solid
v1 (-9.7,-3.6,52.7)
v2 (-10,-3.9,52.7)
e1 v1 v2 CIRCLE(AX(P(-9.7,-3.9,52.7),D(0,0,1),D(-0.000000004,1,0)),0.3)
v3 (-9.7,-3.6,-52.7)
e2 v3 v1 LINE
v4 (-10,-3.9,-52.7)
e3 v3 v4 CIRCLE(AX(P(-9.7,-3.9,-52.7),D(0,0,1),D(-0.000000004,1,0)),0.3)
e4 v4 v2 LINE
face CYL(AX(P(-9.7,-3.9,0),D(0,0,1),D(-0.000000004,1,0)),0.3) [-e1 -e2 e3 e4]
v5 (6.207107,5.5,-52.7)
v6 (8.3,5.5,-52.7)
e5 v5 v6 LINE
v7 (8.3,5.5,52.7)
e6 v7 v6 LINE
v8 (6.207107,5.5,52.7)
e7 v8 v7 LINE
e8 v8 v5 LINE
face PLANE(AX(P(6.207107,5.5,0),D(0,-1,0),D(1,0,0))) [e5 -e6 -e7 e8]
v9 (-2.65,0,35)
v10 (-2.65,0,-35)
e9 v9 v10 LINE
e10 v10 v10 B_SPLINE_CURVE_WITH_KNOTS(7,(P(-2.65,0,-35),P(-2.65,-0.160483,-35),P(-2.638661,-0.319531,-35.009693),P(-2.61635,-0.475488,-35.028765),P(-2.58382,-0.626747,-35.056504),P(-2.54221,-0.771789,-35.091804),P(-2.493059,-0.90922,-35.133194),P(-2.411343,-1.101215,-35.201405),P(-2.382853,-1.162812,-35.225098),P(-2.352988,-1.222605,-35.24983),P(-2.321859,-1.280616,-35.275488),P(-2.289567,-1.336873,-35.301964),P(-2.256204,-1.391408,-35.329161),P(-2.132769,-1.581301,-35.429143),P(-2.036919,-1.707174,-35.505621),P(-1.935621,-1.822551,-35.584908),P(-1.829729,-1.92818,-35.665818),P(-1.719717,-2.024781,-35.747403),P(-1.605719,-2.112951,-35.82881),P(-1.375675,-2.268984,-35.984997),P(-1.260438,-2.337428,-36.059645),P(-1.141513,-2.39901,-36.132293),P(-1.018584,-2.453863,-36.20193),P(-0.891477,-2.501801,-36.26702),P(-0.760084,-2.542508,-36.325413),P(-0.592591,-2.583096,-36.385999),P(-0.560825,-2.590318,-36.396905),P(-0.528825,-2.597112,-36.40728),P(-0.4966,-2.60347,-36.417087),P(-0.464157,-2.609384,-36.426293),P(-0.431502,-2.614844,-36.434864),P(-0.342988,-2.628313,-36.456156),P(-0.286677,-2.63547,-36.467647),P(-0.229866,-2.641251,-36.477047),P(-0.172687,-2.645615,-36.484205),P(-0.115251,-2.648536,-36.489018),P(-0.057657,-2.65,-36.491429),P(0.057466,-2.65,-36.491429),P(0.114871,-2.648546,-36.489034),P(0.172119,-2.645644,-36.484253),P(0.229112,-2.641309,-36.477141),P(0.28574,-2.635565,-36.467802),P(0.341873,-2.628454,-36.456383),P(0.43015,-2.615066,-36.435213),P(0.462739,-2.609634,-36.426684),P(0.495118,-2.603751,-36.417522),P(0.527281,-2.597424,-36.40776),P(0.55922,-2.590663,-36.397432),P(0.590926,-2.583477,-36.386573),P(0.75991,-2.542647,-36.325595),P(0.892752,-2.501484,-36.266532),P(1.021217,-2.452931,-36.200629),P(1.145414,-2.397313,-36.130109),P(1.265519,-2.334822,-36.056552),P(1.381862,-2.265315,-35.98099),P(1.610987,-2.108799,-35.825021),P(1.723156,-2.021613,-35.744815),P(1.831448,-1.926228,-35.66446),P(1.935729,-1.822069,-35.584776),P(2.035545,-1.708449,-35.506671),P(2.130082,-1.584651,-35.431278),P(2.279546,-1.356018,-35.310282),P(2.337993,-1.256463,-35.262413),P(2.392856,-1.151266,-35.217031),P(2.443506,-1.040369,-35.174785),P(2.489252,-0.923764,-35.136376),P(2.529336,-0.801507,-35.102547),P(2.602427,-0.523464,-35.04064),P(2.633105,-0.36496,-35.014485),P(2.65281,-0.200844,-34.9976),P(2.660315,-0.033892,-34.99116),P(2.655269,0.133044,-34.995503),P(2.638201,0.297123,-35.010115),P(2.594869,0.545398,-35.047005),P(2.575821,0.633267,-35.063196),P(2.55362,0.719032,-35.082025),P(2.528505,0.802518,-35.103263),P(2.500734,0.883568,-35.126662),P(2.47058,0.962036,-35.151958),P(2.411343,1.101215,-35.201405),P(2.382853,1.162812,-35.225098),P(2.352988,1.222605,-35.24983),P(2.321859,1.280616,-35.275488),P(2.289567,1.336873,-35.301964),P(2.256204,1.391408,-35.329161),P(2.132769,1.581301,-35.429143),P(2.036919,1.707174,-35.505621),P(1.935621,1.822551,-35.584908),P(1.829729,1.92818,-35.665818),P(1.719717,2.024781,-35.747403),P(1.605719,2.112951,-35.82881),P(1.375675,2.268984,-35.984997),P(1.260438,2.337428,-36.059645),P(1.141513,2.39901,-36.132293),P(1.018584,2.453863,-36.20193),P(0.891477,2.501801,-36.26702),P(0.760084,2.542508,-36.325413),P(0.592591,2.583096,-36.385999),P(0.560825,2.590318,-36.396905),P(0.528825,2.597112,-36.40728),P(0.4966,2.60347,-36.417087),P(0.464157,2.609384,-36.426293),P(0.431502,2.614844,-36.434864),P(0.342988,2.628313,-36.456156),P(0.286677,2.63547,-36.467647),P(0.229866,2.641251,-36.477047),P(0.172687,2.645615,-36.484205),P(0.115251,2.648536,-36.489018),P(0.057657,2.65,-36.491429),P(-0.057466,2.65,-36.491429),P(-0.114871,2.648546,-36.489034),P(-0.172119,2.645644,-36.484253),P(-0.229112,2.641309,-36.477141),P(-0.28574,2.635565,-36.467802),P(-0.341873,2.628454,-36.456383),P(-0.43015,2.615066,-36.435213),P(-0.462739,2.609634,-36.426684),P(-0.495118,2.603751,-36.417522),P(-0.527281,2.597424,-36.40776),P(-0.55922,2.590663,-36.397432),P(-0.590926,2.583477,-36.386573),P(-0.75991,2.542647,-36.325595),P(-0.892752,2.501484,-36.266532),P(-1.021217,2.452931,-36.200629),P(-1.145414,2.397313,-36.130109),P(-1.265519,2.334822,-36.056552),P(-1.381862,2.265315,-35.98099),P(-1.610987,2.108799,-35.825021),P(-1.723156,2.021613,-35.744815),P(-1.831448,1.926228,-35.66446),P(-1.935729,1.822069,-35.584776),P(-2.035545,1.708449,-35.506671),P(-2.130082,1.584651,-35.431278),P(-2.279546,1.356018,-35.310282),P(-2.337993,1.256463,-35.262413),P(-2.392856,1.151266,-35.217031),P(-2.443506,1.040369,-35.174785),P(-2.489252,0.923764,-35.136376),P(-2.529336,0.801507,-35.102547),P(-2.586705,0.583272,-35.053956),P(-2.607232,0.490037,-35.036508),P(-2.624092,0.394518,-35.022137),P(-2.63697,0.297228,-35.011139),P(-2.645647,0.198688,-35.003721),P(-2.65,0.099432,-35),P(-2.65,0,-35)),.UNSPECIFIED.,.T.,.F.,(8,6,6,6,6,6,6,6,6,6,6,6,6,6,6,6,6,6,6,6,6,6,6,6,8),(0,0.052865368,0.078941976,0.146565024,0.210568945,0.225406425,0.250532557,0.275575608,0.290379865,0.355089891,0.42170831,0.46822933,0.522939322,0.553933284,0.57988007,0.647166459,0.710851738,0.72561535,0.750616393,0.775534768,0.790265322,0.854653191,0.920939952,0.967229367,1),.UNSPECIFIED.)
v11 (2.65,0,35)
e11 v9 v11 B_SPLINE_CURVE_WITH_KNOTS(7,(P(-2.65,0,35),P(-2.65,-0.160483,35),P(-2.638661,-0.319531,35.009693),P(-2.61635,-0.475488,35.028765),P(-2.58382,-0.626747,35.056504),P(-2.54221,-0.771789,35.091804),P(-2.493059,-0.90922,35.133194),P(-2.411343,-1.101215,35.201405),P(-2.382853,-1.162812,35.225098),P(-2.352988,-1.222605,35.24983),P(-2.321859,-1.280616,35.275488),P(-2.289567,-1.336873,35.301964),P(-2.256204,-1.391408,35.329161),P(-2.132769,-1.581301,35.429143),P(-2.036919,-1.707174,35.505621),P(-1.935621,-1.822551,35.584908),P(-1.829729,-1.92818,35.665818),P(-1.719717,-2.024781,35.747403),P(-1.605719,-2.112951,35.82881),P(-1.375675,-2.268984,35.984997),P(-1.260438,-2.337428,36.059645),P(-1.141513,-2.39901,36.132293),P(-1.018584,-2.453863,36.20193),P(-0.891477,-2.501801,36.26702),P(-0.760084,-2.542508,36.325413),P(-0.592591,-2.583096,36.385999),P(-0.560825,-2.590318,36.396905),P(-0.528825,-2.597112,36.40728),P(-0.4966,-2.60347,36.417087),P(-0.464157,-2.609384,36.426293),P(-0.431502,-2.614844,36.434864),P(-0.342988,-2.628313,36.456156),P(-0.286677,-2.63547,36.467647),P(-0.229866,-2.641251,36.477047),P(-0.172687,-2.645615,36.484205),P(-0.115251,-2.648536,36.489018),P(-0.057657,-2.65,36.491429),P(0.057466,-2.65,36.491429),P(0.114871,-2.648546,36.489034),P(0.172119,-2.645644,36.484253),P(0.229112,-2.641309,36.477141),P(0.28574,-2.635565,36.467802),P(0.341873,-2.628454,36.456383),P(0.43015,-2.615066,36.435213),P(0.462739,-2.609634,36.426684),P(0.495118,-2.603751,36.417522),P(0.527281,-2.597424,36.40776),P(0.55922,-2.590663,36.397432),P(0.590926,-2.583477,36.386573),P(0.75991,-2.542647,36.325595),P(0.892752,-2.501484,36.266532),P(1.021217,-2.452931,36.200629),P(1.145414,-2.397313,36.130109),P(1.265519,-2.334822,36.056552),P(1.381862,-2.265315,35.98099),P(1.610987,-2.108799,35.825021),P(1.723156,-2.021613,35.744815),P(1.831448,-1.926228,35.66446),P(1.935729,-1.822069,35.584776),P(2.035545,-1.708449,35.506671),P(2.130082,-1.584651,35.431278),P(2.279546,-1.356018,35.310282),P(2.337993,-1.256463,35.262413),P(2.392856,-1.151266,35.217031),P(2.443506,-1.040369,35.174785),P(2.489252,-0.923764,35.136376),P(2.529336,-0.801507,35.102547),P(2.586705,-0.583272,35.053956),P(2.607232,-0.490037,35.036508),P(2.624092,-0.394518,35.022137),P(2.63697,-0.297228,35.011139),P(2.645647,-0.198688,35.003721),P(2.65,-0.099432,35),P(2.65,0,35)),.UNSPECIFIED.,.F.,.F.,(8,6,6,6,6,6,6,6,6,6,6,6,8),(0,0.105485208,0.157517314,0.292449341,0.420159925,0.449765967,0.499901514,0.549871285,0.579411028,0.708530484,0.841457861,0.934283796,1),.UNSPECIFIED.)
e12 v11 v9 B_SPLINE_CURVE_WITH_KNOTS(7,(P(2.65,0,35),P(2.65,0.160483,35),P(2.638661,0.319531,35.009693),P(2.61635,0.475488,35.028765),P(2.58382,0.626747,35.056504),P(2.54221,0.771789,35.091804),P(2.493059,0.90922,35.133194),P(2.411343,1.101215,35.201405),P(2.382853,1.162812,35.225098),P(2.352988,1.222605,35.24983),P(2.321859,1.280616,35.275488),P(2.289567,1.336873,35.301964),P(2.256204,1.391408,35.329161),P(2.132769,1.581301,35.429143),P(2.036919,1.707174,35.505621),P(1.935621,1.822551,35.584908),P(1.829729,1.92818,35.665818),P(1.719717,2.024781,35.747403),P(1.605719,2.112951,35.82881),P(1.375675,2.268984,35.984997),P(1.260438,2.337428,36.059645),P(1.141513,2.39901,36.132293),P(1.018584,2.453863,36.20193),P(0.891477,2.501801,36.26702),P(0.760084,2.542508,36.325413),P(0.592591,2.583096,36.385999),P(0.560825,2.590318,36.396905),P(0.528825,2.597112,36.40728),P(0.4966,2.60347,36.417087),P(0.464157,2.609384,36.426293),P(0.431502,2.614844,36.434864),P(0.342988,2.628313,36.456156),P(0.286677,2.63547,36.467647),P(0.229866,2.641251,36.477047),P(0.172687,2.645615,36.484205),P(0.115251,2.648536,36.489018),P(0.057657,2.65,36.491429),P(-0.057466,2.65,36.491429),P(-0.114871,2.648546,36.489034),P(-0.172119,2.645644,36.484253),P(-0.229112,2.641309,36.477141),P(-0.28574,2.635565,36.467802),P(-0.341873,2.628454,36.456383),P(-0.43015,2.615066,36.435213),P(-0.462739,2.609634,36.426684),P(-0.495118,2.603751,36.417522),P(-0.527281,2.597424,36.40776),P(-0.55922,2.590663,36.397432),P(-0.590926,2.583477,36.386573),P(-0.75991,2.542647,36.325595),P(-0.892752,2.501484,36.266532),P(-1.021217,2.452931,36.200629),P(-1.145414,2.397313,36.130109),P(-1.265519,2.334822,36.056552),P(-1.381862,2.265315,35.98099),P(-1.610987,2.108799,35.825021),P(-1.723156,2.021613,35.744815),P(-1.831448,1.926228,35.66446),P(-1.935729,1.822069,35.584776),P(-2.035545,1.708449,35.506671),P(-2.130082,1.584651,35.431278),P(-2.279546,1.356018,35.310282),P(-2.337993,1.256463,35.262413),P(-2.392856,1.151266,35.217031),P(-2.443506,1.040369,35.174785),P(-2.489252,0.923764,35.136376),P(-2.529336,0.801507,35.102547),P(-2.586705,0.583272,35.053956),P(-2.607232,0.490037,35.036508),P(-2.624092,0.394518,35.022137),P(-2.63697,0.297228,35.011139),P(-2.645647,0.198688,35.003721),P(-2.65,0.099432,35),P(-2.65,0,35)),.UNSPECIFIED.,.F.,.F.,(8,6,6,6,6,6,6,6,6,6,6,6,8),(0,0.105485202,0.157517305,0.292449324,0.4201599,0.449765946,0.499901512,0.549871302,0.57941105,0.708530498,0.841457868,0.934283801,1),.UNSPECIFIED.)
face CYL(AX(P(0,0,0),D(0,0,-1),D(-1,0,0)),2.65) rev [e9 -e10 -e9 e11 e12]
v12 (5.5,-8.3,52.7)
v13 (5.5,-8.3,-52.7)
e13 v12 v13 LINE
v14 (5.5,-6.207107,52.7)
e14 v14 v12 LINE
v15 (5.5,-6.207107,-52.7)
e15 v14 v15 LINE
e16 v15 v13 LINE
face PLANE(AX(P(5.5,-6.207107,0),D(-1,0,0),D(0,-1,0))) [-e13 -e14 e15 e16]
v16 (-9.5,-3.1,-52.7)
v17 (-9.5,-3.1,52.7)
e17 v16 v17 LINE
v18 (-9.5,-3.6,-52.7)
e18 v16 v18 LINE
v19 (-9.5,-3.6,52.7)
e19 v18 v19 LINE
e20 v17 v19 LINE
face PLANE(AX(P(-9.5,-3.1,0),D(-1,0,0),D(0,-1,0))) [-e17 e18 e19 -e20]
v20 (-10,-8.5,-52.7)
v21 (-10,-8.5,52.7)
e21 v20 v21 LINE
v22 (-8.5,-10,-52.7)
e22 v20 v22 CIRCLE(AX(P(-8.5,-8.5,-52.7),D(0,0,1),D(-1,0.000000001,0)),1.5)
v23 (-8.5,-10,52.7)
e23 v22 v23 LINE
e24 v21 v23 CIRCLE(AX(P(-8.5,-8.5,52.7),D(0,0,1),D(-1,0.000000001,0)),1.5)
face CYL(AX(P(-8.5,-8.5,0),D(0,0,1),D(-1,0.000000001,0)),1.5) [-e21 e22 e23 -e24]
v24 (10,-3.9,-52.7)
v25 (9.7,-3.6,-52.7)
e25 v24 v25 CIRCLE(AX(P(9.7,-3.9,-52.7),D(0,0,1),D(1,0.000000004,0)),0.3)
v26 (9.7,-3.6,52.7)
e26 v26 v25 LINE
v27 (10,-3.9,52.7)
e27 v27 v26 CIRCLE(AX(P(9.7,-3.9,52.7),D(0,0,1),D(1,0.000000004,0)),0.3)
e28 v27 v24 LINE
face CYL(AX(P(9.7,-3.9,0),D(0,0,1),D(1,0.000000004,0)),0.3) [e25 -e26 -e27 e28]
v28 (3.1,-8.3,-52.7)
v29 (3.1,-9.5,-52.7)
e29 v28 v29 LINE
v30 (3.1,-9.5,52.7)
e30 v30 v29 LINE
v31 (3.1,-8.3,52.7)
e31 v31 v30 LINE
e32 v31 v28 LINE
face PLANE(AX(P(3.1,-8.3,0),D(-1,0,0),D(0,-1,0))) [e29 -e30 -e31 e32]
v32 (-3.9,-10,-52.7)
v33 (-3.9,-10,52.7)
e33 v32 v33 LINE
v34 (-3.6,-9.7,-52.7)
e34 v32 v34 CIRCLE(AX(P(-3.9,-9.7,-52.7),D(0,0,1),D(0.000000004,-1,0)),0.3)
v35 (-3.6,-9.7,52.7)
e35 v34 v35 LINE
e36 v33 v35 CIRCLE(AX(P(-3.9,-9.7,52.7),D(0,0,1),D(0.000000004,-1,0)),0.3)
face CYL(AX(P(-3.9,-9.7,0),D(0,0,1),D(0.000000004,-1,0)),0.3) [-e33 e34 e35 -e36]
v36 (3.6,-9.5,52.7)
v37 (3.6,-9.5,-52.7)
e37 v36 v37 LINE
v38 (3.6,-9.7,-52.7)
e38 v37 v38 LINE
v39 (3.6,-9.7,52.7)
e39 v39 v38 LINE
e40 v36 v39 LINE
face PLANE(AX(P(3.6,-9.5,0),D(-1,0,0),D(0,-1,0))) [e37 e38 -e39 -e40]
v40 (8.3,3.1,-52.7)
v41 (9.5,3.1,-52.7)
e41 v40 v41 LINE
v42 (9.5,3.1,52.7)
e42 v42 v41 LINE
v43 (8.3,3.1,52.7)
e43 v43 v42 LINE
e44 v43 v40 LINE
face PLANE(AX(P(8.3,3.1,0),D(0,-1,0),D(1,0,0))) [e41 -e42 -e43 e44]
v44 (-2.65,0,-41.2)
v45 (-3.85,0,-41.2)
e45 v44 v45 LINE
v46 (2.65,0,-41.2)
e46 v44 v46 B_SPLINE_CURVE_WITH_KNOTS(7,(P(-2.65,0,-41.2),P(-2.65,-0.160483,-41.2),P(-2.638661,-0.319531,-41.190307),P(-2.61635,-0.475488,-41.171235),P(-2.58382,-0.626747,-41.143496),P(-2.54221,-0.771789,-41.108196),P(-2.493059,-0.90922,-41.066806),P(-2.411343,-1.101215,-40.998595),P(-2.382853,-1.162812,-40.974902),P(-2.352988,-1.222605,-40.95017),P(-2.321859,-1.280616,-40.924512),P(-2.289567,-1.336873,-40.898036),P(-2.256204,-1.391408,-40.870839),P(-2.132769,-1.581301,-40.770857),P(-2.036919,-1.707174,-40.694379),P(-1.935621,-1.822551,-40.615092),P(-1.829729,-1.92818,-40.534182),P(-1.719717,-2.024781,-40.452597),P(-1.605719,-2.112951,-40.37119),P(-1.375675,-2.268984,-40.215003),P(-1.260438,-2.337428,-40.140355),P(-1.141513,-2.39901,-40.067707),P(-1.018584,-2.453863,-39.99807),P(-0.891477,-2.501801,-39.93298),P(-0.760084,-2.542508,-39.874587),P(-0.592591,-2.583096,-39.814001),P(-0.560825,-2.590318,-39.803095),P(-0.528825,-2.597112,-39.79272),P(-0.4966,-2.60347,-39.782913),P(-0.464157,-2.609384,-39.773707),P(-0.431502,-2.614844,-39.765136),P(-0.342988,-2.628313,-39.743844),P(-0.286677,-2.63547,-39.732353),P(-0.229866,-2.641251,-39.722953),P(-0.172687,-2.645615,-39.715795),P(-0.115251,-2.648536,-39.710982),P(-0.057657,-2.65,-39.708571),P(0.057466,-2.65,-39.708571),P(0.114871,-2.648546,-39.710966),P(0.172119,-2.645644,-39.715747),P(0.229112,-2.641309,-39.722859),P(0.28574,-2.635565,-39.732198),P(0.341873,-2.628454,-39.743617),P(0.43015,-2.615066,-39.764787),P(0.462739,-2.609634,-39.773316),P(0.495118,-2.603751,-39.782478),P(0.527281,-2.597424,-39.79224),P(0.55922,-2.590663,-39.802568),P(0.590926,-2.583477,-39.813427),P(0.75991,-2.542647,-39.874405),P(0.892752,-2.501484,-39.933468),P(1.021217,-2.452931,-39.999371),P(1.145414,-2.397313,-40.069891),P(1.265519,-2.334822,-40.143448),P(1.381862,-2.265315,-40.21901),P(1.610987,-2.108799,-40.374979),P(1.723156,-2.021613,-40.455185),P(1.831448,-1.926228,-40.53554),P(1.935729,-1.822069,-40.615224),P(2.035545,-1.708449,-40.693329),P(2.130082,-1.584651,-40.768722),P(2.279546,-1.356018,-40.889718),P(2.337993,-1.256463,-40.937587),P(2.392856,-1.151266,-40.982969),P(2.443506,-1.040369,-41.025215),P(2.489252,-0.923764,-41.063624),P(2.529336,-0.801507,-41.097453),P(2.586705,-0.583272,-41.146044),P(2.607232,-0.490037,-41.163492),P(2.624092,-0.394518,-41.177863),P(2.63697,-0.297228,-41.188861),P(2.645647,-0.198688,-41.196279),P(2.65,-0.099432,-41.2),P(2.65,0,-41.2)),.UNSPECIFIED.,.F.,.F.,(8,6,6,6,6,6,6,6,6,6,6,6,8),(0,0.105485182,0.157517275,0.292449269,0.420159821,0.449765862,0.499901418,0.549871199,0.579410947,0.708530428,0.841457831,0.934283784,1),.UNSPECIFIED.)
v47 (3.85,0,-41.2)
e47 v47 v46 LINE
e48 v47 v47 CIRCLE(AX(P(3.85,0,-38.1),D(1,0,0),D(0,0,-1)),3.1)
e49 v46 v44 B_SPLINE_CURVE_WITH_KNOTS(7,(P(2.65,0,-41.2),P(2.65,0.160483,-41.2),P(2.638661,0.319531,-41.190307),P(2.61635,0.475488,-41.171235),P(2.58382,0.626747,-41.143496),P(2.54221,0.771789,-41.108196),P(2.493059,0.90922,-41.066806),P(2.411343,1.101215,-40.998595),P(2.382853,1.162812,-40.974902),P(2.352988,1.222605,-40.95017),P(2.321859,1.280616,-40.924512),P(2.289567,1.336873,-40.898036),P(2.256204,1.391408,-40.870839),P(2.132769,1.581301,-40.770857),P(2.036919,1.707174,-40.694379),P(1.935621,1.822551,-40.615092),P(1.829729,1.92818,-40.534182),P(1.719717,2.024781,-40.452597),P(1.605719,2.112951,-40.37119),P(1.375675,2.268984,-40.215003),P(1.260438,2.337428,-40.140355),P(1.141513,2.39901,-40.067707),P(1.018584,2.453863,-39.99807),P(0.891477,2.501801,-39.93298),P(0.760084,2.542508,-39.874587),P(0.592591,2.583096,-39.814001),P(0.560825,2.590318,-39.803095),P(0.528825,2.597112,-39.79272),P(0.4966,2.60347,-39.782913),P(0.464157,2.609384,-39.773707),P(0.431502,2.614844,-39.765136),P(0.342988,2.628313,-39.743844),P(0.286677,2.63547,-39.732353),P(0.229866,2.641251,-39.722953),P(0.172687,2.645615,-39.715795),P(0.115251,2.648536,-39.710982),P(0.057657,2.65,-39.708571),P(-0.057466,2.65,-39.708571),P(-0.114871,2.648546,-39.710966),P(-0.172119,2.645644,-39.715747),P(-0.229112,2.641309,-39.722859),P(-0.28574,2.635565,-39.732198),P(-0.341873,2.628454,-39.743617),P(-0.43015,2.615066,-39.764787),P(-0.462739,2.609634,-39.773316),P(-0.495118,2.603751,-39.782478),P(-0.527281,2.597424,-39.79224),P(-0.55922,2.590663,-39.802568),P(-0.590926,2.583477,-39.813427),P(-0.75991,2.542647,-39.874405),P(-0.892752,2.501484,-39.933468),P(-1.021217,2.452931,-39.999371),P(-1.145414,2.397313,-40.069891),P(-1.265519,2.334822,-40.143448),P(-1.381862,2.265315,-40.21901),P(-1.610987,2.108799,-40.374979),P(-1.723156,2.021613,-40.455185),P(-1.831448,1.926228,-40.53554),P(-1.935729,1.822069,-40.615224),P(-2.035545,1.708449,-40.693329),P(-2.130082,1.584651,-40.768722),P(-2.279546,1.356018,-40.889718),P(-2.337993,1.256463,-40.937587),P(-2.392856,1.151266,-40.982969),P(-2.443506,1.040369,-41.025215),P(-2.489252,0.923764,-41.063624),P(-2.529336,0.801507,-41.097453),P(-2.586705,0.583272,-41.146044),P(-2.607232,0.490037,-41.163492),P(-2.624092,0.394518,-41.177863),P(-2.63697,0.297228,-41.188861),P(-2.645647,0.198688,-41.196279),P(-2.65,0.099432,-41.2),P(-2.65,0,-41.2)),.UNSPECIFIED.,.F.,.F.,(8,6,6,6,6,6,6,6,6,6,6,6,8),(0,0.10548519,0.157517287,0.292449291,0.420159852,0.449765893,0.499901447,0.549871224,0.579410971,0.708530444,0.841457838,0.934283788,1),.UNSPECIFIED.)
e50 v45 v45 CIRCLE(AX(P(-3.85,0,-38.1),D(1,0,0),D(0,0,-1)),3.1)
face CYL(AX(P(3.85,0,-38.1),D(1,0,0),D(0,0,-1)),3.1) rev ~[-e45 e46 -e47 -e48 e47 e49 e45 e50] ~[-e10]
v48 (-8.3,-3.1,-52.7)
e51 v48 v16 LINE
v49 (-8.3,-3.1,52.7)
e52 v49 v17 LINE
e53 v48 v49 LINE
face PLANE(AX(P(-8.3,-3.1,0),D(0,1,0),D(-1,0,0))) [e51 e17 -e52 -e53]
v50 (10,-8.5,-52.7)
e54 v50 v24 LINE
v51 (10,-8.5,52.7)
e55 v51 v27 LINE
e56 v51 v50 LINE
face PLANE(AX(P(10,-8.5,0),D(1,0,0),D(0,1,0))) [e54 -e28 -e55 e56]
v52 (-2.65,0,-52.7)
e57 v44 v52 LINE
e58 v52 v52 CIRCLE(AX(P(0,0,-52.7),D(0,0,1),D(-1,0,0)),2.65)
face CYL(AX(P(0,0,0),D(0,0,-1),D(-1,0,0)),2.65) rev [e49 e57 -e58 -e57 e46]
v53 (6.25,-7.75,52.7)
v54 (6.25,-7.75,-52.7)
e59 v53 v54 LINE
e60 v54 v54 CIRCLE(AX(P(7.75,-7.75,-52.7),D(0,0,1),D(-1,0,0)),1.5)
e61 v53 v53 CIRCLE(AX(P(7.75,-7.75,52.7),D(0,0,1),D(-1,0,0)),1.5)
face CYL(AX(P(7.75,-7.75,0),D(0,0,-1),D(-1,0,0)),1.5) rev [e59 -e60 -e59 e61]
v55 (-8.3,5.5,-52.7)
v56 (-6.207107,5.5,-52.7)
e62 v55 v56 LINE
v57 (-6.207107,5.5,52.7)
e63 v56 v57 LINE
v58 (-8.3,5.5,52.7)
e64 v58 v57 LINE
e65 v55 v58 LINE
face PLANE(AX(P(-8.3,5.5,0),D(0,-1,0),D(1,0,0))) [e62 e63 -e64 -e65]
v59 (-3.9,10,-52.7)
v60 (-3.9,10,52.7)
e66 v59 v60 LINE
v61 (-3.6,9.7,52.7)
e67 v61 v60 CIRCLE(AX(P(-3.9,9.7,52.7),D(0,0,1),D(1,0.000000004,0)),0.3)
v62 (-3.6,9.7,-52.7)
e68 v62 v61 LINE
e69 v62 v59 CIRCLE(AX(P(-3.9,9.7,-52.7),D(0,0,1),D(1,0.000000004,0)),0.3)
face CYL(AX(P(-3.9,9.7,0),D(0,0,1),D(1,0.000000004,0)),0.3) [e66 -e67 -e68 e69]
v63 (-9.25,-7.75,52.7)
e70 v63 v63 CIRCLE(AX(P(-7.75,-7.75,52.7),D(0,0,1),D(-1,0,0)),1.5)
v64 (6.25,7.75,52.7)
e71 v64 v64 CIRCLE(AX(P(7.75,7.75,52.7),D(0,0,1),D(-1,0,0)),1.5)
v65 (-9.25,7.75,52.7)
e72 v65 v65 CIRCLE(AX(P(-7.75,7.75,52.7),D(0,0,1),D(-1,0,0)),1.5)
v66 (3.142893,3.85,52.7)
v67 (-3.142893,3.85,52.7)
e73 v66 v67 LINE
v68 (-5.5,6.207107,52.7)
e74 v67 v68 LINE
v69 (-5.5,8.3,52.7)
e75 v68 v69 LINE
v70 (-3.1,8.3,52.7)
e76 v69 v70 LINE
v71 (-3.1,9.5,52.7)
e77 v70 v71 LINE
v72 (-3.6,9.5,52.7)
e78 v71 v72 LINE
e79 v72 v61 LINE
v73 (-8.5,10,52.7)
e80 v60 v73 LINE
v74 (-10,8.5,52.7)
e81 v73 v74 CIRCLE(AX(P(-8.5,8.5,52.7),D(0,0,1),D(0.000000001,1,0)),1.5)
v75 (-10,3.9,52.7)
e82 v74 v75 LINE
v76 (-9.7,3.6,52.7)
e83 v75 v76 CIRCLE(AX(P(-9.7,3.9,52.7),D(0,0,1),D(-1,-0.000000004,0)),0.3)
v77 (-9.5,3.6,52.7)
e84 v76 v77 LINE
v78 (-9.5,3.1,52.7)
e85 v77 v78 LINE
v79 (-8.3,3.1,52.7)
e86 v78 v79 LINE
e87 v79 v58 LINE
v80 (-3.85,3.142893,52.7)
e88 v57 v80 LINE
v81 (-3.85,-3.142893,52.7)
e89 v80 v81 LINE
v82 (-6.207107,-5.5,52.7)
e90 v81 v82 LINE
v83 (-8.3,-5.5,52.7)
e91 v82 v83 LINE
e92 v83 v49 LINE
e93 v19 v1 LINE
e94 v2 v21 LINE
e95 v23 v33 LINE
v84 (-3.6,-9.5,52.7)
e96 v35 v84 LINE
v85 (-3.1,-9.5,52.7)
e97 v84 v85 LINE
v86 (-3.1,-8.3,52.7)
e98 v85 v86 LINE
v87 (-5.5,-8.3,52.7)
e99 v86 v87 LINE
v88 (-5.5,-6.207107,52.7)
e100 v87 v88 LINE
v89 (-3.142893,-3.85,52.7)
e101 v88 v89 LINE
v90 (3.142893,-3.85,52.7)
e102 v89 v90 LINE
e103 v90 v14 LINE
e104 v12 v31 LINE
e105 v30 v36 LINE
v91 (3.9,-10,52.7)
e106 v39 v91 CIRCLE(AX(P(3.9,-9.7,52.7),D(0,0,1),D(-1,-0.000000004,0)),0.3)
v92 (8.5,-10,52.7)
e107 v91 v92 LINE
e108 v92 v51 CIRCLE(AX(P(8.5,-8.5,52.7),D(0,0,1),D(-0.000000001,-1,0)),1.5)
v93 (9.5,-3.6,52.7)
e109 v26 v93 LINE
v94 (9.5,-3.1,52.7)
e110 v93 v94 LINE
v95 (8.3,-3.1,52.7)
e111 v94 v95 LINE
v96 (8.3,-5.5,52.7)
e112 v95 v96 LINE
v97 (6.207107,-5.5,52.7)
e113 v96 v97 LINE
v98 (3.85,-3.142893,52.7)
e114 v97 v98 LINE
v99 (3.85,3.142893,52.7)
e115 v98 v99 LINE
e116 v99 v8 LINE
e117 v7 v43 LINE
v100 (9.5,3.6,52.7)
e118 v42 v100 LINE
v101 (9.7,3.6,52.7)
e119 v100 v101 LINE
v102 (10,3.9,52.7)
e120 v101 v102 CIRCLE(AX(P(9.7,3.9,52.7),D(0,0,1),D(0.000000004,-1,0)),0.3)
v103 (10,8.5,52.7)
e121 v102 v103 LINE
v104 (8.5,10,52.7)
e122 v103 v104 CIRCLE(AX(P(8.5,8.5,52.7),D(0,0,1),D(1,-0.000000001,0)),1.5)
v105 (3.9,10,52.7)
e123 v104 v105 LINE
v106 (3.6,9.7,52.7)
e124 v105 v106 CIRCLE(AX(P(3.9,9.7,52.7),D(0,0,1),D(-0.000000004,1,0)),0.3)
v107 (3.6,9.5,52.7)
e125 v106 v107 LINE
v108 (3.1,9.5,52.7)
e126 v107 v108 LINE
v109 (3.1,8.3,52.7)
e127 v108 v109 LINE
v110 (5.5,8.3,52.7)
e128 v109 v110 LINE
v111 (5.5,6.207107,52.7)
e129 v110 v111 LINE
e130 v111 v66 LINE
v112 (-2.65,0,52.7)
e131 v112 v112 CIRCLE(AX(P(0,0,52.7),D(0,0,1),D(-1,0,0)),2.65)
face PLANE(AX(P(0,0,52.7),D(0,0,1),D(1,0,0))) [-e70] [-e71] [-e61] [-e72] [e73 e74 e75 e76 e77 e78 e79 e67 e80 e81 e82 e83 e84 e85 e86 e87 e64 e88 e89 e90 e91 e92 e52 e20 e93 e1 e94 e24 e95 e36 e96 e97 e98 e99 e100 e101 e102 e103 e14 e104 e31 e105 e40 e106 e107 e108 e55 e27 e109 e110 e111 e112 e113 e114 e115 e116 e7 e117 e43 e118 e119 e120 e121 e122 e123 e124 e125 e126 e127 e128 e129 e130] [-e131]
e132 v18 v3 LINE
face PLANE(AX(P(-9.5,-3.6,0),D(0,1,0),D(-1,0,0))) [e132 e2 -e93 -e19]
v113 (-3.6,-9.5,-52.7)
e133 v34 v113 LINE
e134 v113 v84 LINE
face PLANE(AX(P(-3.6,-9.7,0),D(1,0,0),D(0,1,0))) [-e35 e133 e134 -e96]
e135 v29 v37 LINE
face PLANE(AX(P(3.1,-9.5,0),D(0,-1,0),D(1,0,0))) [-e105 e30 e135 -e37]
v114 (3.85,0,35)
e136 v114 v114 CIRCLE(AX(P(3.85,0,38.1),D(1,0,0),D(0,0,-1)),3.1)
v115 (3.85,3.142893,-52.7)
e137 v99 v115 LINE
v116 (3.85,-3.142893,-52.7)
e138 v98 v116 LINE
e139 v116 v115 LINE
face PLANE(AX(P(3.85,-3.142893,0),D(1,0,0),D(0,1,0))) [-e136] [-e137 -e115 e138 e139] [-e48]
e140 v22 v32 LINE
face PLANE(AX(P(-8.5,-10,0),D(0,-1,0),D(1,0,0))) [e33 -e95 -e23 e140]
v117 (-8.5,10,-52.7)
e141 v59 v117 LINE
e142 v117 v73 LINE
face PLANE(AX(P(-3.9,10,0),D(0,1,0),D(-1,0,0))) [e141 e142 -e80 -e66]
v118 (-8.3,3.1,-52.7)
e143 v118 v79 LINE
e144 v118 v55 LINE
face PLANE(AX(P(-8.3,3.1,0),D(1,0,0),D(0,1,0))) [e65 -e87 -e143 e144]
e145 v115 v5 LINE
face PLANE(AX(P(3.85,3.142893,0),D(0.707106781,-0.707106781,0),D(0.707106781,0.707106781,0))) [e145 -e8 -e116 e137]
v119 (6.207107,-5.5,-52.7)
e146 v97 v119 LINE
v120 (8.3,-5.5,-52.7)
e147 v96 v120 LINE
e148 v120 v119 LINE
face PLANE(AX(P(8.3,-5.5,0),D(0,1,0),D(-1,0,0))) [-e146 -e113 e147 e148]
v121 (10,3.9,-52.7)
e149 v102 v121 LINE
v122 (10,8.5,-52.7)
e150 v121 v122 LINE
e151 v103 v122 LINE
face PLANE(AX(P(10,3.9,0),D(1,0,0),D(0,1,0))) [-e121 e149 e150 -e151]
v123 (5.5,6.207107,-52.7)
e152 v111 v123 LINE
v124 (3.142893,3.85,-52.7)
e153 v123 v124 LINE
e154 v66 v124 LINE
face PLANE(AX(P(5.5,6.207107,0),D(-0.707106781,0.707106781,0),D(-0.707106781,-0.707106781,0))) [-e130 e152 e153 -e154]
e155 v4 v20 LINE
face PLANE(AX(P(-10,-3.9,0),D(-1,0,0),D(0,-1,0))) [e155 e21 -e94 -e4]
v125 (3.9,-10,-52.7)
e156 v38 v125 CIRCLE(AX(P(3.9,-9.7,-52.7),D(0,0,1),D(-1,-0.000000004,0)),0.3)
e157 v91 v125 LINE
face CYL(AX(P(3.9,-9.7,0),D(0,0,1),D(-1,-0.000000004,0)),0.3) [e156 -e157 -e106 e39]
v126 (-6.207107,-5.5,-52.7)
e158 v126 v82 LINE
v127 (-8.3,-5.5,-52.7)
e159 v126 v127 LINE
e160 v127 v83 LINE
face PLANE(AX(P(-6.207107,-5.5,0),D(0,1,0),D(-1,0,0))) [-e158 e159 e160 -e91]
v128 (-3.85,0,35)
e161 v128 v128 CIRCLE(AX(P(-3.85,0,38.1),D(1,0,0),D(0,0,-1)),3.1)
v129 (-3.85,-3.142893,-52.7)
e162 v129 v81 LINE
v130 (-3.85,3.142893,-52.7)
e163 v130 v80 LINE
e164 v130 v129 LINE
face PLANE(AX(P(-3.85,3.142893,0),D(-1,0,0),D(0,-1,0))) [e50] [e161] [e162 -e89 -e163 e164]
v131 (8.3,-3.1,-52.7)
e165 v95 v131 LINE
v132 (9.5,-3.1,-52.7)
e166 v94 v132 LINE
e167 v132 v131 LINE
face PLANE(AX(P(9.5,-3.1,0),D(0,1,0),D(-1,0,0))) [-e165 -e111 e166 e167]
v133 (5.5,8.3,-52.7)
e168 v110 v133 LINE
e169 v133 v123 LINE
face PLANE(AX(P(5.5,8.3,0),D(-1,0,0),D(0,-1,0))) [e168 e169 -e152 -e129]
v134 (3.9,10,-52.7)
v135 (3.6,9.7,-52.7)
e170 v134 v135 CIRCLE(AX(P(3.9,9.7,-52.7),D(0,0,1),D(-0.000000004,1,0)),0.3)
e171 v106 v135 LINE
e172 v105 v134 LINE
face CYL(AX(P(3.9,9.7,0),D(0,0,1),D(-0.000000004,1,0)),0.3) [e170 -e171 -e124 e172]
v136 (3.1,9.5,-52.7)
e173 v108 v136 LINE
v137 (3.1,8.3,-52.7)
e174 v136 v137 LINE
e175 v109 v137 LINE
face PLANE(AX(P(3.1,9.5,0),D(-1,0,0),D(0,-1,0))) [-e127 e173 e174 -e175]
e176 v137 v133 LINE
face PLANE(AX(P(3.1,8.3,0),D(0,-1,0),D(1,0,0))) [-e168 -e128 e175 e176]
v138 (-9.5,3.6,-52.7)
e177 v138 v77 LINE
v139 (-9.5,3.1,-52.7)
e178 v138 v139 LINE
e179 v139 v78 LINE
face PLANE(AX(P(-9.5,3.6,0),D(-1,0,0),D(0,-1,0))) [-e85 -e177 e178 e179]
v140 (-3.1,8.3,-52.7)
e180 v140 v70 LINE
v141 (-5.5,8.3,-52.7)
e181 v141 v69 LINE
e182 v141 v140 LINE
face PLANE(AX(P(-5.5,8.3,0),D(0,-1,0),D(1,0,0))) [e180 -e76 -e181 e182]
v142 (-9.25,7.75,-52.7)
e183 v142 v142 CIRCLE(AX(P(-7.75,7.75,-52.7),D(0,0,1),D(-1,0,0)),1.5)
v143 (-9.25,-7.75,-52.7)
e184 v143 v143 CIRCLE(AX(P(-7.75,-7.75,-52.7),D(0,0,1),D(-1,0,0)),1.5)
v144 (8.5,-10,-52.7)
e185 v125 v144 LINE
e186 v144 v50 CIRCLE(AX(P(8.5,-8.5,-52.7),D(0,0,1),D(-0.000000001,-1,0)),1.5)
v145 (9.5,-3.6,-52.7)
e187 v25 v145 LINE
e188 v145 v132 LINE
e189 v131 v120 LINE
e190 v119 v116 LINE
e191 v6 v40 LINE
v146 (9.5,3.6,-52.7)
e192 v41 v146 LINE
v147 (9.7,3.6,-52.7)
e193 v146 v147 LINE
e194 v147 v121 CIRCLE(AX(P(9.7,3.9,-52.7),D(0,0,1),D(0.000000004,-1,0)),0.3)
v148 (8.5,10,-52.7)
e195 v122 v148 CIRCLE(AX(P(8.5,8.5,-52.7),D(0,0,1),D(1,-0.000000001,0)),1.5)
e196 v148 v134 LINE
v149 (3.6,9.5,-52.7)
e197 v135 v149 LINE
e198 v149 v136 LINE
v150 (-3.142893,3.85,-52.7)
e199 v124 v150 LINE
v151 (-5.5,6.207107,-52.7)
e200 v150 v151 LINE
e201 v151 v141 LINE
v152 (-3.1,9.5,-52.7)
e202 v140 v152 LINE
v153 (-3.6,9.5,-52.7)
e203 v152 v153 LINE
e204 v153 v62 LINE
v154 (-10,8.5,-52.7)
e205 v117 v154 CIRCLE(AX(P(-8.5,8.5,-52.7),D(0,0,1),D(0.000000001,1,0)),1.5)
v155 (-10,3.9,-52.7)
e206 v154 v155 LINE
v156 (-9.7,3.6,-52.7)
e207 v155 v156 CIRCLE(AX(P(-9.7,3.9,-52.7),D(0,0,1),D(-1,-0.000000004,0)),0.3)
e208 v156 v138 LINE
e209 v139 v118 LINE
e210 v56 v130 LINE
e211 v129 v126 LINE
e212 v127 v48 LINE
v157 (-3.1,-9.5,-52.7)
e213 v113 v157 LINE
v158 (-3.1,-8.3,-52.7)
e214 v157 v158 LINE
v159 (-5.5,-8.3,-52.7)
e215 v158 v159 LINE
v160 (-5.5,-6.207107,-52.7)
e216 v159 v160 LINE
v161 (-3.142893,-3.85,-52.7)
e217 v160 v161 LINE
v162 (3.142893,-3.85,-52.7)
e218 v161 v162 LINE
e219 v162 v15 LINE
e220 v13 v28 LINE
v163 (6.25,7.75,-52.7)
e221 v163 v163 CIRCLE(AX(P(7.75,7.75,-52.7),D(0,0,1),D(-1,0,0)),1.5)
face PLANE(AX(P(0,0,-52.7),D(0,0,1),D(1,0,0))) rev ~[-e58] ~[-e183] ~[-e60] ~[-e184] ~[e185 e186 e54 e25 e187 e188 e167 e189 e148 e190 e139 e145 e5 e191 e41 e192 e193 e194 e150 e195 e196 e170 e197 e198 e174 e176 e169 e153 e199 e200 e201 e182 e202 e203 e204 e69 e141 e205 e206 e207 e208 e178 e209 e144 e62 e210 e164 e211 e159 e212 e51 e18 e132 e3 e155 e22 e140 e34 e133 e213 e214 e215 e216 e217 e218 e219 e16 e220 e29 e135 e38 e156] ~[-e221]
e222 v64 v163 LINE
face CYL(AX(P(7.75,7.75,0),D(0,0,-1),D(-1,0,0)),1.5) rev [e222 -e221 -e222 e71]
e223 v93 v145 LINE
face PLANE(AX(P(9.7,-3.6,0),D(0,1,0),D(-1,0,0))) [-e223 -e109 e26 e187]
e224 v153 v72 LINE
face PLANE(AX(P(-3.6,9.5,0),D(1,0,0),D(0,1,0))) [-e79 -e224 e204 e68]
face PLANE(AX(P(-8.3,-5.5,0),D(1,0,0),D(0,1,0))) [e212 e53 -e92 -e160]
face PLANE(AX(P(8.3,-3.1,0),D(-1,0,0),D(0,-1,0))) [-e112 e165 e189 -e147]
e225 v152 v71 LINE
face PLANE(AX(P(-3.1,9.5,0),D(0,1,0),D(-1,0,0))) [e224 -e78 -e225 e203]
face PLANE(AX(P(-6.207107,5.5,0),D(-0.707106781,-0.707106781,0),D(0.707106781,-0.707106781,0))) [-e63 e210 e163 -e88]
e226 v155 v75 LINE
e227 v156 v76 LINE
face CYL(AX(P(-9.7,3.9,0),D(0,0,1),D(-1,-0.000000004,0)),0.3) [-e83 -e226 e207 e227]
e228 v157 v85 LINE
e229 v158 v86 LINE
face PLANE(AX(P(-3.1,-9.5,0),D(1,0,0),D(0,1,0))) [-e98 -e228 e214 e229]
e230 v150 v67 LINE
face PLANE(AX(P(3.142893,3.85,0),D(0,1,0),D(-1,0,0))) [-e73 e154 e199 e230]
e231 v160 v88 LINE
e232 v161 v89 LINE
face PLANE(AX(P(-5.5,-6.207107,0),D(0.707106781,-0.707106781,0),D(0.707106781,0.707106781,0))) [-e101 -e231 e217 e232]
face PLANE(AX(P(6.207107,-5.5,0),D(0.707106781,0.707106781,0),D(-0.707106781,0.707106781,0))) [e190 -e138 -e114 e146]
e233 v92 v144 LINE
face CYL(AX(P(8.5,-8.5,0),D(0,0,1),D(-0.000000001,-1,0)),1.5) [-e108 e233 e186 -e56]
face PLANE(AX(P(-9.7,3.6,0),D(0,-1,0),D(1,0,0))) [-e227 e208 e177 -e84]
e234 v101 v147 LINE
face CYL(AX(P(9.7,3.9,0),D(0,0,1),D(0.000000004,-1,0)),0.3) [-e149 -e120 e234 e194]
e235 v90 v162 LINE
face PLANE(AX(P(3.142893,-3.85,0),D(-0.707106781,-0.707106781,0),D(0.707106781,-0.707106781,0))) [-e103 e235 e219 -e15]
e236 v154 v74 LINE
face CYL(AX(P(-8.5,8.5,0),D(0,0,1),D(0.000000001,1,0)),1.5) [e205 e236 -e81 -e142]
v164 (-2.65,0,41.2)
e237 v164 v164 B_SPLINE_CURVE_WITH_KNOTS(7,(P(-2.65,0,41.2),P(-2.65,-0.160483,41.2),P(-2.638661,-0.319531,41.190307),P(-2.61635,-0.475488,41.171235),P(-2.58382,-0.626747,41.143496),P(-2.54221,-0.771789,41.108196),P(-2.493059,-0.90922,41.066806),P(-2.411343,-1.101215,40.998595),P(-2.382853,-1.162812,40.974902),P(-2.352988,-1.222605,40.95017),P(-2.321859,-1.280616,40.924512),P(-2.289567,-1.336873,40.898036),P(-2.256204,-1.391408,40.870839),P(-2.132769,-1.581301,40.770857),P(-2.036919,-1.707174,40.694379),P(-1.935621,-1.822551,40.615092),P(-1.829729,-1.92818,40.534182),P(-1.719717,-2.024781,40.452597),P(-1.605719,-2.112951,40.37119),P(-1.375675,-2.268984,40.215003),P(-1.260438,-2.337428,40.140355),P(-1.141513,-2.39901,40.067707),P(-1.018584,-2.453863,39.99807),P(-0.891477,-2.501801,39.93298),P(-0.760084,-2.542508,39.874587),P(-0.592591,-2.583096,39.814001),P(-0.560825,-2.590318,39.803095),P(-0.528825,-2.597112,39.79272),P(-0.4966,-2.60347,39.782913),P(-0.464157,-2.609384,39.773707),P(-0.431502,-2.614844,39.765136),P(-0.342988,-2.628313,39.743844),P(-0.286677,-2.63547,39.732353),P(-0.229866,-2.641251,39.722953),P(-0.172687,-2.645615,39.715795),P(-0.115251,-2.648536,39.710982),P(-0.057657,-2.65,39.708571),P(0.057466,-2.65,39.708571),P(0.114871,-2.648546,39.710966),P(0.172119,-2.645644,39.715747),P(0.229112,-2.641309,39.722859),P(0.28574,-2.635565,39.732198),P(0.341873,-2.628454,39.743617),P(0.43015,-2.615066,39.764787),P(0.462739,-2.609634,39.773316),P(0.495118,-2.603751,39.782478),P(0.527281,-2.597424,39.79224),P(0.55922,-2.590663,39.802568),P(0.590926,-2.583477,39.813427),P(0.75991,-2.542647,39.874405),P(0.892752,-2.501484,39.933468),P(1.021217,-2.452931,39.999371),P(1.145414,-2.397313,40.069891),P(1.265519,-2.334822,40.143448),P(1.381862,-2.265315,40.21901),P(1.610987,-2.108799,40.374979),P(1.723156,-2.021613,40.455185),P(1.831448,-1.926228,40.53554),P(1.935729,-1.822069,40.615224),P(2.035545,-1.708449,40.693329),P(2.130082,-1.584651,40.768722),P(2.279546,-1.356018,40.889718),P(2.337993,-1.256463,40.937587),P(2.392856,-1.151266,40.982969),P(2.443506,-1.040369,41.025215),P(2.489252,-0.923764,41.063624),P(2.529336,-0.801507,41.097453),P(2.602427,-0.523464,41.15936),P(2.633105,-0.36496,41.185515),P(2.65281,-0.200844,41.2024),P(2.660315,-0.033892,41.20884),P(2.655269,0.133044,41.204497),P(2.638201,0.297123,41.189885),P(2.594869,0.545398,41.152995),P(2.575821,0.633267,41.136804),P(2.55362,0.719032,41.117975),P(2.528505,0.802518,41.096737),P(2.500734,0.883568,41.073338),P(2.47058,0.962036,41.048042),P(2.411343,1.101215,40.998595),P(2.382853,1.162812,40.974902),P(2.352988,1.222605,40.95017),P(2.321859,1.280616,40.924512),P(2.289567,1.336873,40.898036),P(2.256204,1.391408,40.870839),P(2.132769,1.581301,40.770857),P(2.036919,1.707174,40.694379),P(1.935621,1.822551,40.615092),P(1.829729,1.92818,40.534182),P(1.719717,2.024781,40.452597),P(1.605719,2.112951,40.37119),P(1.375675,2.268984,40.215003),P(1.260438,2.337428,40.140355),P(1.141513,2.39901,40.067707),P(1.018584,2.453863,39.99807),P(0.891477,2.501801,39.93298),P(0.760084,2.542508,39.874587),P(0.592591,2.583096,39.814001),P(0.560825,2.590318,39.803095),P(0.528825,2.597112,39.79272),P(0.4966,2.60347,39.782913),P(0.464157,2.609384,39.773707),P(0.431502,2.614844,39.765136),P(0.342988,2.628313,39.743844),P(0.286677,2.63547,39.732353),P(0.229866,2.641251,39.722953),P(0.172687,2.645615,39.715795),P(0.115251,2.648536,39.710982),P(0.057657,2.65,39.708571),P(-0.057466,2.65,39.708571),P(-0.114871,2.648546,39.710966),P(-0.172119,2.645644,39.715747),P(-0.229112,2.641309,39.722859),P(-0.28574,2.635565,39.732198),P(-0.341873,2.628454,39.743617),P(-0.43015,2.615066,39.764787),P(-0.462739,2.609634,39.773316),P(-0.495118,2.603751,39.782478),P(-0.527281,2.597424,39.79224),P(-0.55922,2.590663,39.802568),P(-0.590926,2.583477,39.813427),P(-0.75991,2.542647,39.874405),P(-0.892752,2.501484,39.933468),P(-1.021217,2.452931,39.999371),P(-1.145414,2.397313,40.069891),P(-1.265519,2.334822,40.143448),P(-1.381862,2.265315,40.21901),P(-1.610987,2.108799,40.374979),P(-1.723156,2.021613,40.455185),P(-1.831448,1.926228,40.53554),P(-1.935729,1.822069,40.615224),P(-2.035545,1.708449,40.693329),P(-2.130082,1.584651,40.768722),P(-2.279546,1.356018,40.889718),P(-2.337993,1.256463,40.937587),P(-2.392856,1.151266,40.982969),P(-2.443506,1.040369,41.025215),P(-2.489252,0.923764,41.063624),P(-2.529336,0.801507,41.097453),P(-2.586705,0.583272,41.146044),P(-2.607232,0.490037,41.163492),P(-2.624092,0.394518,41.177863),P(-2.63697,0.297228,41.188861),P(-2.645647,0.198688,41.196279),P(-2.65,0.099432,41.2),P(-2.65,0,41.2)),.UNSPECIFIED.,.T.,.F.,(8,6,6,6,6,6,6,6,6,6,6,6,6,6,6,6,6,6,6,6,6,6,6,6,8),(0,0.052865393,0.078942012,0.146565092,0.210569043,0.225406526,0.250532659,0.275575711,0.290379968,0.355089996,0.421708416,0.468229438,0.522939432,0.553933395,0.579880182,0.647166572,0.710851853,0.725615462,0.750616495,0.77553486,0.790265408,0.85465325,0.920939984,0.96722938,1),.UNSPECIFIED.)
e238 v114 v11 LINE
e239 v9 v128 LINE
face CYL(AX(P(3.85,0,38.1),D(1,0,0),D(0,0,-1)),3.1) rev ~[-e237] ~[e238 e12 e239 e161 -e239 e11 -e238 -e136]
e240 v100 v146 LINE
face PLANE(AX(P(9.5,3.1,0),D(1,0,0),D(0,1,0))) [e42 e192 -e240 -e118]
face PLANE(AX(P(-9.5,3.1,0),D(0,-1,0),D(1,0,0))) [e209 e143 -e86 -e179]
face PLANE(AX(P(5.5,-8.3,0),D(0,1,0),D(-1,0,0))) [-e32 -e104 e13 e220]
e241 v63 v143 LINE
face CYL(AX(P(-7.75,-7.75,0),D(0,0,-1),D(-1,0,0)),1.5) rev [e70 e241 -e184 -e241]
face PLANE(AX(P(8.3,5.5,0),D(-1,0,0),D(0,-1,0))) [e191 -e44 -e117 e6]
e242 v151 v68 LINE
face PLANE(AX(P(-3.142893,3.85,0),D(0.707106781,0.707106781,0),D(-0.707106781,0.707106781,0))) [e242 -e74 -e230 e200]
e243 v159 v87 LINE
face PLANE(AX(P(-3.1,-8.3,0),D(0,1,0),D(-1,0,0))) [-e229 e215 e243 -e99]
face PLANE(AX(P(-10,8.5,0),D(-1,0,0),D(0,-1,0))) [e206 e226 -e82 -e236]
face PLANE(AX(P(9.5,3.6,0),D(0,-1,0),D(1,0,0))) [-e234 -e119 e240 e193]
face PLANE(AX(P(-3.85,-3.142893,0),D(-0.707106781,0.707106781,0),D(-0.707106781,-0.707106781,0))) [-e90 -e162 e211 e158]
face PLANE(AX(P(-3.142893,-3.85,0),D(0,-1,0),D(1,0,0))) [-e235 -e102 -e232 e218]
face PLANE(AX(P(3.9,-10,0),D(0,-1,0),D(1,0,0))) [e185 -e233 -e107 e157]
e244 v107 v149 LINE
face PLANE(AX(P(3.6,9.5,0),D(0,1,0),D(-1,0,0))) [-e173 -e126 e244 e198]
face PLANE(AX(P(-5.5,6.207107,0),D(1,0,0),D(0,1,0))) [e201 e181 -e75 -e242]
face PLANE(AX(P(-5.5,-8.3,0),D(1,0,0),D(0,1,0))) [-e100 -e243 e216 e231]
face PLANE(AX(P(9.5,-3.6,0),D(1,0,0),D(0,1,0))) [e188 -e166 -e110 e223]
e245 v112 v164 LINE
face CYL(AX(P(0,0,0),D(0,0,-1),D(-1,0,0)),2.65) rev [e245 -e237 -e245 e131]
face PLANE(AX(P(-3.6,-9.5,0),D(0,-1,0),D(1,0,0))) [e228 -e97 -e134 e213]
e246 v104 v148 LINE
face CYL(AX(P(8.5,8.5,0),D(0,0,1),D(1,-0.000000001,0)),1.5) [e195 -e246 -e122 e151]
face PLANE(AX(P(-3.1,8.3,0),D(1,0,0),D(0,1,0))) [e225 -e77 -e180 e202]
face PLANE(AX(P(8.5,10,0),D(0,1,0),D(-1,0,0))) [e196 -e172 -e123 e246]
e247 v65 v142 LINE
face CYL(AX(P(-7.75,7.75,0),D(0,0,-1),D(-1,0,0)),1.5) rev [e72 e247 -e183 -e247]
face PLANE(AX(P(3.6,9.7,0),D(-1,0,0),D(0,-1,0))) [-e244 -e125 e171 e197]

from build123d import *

# Parameters (mm, degrees)
SKETCH_1_R          = 2.65
SKETCH_1_R_2        = 1.5
EXTRUDE_1_DEPTH     = 52.7
SKETCH_4_R          = 3.1
CUT_EXTRUDE_3_DEPTH = 56.399571298


with BuildPart() as part:
    # 草图1 → 凸台-拉伸1 (new, symmetric)
    with BuildSketch(Plane.XY):
        with BuildLine():
            Line((3.142893219, 3.85), (-3.142893219, 3.85))
            Line((-3.142893219, 3.85), (-5.5, 6.207106781))
            Line((-5.5, 6.207106781), (-5.5, 8.3))
            Line((-5.5, 8.3), (-3.1, 8.3))
            Line((-3.1, 8.3), (-3.1, 9.5))
            Line((-3.1, 9.5), (-3.6, 9.5))
            Line((-3.6, 9.5), (-3.6, 9.7))
            ThreePointArc((-3.6, 9.7), (-3.687867966, 9.912132034), (-3.9, 10))
            Line((-3.9, 10), (-8.5, 10))
            ThreePointArc((-8.5, 10), (-9.560660172, 9.560660172), (-10, 8.5))
            Line((-10, 8.5), (-10, 3.9))
            ThreePointArc((-10, 3.9), (-9.912132034, 3.687867966), (-9.7, 3.6))
            Line((-9.7, 3.6), (-9.5, 3.6))
            Line((-9.5, 3.6), (-9.5, 3.1))
            Line((-9.5, 3.1), (-8.3, 3.1))
            Line((-8.3, 3.1), (-8.3, 5.5))
            Line((-8.3, 5.5), (-6.207106781, 5.5))
            Line((-6.207106781, 5.5), (-3.85, 3.142893219))
            Line((-3.85, 3.142893219), (-3.85, -3.142893219))
            Line((-3.85, -3.142893219), (-6.207106781, -5.5))
            Line((-6.207106781, -5.5), (-8.3, -5.5))
            Line((-8.3, -5.5), (-8.3, -3.1))
            Line((-8.3, -3.1), (-9.5, -3.1))
            Line((-9.5, -3.1), (-9.5, -3.6))
            Line((-9.5, -3.6), (-9.7, -3.6))
            ThreePointArc((-9.7, -3.6), (-9.912132034, -3.687867966), (-10, -3.9))
            Line((-10, -3.9), (-10, -8.5))
            ThreePointArc((-10, -8.5), (-9.560660172, -9.560660172), (-8.5, -10))
            Line((-8.5, -10), (-3.9, -10))
            ThreePointArc((-3.9, -10), (-3.687867966, -9.912132034), (-3.6, -9.7))
            Line((-3.6, -9.7), (-3.6, -9.5))
            Line((-3.6, -9.5), (-3.1, -9.5))
            Line((-3.1, -9.5), (-3.1, -8.3))
            Line((-3.1, -8.3), (-5.5, -8.3))
            Line((-5.5, -8.3), (-5.5, -6.207106781))
            Line((-5.5, -6.207106781), (-3.142893219, -3.85))
            Line((-3.142893219, -3.85), (3.142893219, -3.85))
            Line((3.142893219, -3.85), (5.5, -6.207106781))
            Line((5.5, -6.207106781), (5.5, -8.3))
            Line((5.5, -8.3), (3.1, -8.3))
            Line((3.1, -8.3), (3.1, -9.5))
            Line((3.1, -9.5), (3.6, -9.5))
            Line((3.6, -9.5), (3.6, -9.7))
            ThreePointArc((3.6, -9.7), (3.687867966, -9.912132034), (3.9, -10))
            Line((3.9, -10), (8.5, -10))
            ThreePointArc((8.5, -10), (9.560660172, -9.560660172), (10, -8.5))
            Line((10, -8.5), (10, -3.9))
            ThreePointArc((10, -3.9), (9.912132034, -3.687867966), (9.7, -3.6))
            Line((9.7, -3.6), (9.5, -3.6))
            Line((9.5, -3.6), (9.5, -3.1))
            Line((9.5, -3.1), (8.3, -3.1))
            Line((8.3, -3.1), (8.3, -5.5))
            Line((8.3, -5.5), (6.207106781, -5.5))
            Line((6.207106781, -5.5), (3.85, -3.142893219))
            Line((3.85, -3.142893219), (3.85, 3.142893219))
            Line((3.85, 3.142893219), (6.207106781, 5.5))
            Line((6.207106781, 5.5), (8.3, 5.5))
            Line((8.3, 5.5), (8.3, 3.1))
            Line((8.3, 3.1), (9.5, 3.1))
            Line((9.5, 3.1), (9.5, 3.6))
            Line((9.5, 3.6), (9.7, 3.6))
            ThreePointArc((9.7, 3.6), (9.912132034, 3.687867966), (10, 3.9))
            Line((10, 3.9), (10, 8.5))
            ThreePointArc((10, 8.5), (9.560660172, 9.560660172), (8.5, 10))
            Line((8.5, 10), (3.9, 10))
            ThreePointArc((3.9, 10), (3.687867966, 9.912132034), (3.6, 9.7))
            Line((3.6, 9.7), (3.6, 9.5))
            Line((3.6, 9.5), (3.1, 9.5))
            Line((3.1, 9.5), (3.1, 8.3))
            Line((3.1, 8.3), (5.5, 8.3))
            Line((5.5, 8.3), (5.5, 6.207106781))
            Line((5.5, 6.207106781), (3.142893219, 3.85))
        make_face()
        with Locations(Location((0, 0, 0), (0, 0, 180))):
            Circle(SKETCH_1_R, mode=Mode.SUBTRACT)
        with Locations(Location((-7.75, 7.75, 0), (0, 0, 180))):
            Circle(SKETCH_1_R_2, mode=Mode.SUBTRACT)
        with Locations(Location((7.75, 7.75, 0), (0, 0, 180))):
            Circle(SKETCH_1_R_2, mode=Mode.SUBTRACT)
        with Locations(Location((7.75, -7.75, 0), (0, 0, 180))):
            Circle(SKETCH_1_R_2, mode=Mode.SUBTRACT)
        with Locations(Location((-7.75, -7.75, 0), (0, 0, 180))):
            Circle(SKETCH_1_R_2, mode=Mode.SUBTRACT)
    extrude(amount=EXTRUDE_1_DEPTH, both=True)

    # 草图4 → 切除-拉伸3 (cut, through all)
    with BuildSketch(Plane(origin=(3.85, 0, 0), x_dir=(0, 0, -1), z_dir=(1, 0, 0))):
        with Locations((-38.1, 0)):
            Circle(SKETCH_4_R)
        with Locations((38.1, 0)):
            Circle(SKETCH_4_R)
    extrude(amount=-CUT_EXTRUDE_3_DEPTH, mode=Mode.SUBTRACT)


solid = part.part
